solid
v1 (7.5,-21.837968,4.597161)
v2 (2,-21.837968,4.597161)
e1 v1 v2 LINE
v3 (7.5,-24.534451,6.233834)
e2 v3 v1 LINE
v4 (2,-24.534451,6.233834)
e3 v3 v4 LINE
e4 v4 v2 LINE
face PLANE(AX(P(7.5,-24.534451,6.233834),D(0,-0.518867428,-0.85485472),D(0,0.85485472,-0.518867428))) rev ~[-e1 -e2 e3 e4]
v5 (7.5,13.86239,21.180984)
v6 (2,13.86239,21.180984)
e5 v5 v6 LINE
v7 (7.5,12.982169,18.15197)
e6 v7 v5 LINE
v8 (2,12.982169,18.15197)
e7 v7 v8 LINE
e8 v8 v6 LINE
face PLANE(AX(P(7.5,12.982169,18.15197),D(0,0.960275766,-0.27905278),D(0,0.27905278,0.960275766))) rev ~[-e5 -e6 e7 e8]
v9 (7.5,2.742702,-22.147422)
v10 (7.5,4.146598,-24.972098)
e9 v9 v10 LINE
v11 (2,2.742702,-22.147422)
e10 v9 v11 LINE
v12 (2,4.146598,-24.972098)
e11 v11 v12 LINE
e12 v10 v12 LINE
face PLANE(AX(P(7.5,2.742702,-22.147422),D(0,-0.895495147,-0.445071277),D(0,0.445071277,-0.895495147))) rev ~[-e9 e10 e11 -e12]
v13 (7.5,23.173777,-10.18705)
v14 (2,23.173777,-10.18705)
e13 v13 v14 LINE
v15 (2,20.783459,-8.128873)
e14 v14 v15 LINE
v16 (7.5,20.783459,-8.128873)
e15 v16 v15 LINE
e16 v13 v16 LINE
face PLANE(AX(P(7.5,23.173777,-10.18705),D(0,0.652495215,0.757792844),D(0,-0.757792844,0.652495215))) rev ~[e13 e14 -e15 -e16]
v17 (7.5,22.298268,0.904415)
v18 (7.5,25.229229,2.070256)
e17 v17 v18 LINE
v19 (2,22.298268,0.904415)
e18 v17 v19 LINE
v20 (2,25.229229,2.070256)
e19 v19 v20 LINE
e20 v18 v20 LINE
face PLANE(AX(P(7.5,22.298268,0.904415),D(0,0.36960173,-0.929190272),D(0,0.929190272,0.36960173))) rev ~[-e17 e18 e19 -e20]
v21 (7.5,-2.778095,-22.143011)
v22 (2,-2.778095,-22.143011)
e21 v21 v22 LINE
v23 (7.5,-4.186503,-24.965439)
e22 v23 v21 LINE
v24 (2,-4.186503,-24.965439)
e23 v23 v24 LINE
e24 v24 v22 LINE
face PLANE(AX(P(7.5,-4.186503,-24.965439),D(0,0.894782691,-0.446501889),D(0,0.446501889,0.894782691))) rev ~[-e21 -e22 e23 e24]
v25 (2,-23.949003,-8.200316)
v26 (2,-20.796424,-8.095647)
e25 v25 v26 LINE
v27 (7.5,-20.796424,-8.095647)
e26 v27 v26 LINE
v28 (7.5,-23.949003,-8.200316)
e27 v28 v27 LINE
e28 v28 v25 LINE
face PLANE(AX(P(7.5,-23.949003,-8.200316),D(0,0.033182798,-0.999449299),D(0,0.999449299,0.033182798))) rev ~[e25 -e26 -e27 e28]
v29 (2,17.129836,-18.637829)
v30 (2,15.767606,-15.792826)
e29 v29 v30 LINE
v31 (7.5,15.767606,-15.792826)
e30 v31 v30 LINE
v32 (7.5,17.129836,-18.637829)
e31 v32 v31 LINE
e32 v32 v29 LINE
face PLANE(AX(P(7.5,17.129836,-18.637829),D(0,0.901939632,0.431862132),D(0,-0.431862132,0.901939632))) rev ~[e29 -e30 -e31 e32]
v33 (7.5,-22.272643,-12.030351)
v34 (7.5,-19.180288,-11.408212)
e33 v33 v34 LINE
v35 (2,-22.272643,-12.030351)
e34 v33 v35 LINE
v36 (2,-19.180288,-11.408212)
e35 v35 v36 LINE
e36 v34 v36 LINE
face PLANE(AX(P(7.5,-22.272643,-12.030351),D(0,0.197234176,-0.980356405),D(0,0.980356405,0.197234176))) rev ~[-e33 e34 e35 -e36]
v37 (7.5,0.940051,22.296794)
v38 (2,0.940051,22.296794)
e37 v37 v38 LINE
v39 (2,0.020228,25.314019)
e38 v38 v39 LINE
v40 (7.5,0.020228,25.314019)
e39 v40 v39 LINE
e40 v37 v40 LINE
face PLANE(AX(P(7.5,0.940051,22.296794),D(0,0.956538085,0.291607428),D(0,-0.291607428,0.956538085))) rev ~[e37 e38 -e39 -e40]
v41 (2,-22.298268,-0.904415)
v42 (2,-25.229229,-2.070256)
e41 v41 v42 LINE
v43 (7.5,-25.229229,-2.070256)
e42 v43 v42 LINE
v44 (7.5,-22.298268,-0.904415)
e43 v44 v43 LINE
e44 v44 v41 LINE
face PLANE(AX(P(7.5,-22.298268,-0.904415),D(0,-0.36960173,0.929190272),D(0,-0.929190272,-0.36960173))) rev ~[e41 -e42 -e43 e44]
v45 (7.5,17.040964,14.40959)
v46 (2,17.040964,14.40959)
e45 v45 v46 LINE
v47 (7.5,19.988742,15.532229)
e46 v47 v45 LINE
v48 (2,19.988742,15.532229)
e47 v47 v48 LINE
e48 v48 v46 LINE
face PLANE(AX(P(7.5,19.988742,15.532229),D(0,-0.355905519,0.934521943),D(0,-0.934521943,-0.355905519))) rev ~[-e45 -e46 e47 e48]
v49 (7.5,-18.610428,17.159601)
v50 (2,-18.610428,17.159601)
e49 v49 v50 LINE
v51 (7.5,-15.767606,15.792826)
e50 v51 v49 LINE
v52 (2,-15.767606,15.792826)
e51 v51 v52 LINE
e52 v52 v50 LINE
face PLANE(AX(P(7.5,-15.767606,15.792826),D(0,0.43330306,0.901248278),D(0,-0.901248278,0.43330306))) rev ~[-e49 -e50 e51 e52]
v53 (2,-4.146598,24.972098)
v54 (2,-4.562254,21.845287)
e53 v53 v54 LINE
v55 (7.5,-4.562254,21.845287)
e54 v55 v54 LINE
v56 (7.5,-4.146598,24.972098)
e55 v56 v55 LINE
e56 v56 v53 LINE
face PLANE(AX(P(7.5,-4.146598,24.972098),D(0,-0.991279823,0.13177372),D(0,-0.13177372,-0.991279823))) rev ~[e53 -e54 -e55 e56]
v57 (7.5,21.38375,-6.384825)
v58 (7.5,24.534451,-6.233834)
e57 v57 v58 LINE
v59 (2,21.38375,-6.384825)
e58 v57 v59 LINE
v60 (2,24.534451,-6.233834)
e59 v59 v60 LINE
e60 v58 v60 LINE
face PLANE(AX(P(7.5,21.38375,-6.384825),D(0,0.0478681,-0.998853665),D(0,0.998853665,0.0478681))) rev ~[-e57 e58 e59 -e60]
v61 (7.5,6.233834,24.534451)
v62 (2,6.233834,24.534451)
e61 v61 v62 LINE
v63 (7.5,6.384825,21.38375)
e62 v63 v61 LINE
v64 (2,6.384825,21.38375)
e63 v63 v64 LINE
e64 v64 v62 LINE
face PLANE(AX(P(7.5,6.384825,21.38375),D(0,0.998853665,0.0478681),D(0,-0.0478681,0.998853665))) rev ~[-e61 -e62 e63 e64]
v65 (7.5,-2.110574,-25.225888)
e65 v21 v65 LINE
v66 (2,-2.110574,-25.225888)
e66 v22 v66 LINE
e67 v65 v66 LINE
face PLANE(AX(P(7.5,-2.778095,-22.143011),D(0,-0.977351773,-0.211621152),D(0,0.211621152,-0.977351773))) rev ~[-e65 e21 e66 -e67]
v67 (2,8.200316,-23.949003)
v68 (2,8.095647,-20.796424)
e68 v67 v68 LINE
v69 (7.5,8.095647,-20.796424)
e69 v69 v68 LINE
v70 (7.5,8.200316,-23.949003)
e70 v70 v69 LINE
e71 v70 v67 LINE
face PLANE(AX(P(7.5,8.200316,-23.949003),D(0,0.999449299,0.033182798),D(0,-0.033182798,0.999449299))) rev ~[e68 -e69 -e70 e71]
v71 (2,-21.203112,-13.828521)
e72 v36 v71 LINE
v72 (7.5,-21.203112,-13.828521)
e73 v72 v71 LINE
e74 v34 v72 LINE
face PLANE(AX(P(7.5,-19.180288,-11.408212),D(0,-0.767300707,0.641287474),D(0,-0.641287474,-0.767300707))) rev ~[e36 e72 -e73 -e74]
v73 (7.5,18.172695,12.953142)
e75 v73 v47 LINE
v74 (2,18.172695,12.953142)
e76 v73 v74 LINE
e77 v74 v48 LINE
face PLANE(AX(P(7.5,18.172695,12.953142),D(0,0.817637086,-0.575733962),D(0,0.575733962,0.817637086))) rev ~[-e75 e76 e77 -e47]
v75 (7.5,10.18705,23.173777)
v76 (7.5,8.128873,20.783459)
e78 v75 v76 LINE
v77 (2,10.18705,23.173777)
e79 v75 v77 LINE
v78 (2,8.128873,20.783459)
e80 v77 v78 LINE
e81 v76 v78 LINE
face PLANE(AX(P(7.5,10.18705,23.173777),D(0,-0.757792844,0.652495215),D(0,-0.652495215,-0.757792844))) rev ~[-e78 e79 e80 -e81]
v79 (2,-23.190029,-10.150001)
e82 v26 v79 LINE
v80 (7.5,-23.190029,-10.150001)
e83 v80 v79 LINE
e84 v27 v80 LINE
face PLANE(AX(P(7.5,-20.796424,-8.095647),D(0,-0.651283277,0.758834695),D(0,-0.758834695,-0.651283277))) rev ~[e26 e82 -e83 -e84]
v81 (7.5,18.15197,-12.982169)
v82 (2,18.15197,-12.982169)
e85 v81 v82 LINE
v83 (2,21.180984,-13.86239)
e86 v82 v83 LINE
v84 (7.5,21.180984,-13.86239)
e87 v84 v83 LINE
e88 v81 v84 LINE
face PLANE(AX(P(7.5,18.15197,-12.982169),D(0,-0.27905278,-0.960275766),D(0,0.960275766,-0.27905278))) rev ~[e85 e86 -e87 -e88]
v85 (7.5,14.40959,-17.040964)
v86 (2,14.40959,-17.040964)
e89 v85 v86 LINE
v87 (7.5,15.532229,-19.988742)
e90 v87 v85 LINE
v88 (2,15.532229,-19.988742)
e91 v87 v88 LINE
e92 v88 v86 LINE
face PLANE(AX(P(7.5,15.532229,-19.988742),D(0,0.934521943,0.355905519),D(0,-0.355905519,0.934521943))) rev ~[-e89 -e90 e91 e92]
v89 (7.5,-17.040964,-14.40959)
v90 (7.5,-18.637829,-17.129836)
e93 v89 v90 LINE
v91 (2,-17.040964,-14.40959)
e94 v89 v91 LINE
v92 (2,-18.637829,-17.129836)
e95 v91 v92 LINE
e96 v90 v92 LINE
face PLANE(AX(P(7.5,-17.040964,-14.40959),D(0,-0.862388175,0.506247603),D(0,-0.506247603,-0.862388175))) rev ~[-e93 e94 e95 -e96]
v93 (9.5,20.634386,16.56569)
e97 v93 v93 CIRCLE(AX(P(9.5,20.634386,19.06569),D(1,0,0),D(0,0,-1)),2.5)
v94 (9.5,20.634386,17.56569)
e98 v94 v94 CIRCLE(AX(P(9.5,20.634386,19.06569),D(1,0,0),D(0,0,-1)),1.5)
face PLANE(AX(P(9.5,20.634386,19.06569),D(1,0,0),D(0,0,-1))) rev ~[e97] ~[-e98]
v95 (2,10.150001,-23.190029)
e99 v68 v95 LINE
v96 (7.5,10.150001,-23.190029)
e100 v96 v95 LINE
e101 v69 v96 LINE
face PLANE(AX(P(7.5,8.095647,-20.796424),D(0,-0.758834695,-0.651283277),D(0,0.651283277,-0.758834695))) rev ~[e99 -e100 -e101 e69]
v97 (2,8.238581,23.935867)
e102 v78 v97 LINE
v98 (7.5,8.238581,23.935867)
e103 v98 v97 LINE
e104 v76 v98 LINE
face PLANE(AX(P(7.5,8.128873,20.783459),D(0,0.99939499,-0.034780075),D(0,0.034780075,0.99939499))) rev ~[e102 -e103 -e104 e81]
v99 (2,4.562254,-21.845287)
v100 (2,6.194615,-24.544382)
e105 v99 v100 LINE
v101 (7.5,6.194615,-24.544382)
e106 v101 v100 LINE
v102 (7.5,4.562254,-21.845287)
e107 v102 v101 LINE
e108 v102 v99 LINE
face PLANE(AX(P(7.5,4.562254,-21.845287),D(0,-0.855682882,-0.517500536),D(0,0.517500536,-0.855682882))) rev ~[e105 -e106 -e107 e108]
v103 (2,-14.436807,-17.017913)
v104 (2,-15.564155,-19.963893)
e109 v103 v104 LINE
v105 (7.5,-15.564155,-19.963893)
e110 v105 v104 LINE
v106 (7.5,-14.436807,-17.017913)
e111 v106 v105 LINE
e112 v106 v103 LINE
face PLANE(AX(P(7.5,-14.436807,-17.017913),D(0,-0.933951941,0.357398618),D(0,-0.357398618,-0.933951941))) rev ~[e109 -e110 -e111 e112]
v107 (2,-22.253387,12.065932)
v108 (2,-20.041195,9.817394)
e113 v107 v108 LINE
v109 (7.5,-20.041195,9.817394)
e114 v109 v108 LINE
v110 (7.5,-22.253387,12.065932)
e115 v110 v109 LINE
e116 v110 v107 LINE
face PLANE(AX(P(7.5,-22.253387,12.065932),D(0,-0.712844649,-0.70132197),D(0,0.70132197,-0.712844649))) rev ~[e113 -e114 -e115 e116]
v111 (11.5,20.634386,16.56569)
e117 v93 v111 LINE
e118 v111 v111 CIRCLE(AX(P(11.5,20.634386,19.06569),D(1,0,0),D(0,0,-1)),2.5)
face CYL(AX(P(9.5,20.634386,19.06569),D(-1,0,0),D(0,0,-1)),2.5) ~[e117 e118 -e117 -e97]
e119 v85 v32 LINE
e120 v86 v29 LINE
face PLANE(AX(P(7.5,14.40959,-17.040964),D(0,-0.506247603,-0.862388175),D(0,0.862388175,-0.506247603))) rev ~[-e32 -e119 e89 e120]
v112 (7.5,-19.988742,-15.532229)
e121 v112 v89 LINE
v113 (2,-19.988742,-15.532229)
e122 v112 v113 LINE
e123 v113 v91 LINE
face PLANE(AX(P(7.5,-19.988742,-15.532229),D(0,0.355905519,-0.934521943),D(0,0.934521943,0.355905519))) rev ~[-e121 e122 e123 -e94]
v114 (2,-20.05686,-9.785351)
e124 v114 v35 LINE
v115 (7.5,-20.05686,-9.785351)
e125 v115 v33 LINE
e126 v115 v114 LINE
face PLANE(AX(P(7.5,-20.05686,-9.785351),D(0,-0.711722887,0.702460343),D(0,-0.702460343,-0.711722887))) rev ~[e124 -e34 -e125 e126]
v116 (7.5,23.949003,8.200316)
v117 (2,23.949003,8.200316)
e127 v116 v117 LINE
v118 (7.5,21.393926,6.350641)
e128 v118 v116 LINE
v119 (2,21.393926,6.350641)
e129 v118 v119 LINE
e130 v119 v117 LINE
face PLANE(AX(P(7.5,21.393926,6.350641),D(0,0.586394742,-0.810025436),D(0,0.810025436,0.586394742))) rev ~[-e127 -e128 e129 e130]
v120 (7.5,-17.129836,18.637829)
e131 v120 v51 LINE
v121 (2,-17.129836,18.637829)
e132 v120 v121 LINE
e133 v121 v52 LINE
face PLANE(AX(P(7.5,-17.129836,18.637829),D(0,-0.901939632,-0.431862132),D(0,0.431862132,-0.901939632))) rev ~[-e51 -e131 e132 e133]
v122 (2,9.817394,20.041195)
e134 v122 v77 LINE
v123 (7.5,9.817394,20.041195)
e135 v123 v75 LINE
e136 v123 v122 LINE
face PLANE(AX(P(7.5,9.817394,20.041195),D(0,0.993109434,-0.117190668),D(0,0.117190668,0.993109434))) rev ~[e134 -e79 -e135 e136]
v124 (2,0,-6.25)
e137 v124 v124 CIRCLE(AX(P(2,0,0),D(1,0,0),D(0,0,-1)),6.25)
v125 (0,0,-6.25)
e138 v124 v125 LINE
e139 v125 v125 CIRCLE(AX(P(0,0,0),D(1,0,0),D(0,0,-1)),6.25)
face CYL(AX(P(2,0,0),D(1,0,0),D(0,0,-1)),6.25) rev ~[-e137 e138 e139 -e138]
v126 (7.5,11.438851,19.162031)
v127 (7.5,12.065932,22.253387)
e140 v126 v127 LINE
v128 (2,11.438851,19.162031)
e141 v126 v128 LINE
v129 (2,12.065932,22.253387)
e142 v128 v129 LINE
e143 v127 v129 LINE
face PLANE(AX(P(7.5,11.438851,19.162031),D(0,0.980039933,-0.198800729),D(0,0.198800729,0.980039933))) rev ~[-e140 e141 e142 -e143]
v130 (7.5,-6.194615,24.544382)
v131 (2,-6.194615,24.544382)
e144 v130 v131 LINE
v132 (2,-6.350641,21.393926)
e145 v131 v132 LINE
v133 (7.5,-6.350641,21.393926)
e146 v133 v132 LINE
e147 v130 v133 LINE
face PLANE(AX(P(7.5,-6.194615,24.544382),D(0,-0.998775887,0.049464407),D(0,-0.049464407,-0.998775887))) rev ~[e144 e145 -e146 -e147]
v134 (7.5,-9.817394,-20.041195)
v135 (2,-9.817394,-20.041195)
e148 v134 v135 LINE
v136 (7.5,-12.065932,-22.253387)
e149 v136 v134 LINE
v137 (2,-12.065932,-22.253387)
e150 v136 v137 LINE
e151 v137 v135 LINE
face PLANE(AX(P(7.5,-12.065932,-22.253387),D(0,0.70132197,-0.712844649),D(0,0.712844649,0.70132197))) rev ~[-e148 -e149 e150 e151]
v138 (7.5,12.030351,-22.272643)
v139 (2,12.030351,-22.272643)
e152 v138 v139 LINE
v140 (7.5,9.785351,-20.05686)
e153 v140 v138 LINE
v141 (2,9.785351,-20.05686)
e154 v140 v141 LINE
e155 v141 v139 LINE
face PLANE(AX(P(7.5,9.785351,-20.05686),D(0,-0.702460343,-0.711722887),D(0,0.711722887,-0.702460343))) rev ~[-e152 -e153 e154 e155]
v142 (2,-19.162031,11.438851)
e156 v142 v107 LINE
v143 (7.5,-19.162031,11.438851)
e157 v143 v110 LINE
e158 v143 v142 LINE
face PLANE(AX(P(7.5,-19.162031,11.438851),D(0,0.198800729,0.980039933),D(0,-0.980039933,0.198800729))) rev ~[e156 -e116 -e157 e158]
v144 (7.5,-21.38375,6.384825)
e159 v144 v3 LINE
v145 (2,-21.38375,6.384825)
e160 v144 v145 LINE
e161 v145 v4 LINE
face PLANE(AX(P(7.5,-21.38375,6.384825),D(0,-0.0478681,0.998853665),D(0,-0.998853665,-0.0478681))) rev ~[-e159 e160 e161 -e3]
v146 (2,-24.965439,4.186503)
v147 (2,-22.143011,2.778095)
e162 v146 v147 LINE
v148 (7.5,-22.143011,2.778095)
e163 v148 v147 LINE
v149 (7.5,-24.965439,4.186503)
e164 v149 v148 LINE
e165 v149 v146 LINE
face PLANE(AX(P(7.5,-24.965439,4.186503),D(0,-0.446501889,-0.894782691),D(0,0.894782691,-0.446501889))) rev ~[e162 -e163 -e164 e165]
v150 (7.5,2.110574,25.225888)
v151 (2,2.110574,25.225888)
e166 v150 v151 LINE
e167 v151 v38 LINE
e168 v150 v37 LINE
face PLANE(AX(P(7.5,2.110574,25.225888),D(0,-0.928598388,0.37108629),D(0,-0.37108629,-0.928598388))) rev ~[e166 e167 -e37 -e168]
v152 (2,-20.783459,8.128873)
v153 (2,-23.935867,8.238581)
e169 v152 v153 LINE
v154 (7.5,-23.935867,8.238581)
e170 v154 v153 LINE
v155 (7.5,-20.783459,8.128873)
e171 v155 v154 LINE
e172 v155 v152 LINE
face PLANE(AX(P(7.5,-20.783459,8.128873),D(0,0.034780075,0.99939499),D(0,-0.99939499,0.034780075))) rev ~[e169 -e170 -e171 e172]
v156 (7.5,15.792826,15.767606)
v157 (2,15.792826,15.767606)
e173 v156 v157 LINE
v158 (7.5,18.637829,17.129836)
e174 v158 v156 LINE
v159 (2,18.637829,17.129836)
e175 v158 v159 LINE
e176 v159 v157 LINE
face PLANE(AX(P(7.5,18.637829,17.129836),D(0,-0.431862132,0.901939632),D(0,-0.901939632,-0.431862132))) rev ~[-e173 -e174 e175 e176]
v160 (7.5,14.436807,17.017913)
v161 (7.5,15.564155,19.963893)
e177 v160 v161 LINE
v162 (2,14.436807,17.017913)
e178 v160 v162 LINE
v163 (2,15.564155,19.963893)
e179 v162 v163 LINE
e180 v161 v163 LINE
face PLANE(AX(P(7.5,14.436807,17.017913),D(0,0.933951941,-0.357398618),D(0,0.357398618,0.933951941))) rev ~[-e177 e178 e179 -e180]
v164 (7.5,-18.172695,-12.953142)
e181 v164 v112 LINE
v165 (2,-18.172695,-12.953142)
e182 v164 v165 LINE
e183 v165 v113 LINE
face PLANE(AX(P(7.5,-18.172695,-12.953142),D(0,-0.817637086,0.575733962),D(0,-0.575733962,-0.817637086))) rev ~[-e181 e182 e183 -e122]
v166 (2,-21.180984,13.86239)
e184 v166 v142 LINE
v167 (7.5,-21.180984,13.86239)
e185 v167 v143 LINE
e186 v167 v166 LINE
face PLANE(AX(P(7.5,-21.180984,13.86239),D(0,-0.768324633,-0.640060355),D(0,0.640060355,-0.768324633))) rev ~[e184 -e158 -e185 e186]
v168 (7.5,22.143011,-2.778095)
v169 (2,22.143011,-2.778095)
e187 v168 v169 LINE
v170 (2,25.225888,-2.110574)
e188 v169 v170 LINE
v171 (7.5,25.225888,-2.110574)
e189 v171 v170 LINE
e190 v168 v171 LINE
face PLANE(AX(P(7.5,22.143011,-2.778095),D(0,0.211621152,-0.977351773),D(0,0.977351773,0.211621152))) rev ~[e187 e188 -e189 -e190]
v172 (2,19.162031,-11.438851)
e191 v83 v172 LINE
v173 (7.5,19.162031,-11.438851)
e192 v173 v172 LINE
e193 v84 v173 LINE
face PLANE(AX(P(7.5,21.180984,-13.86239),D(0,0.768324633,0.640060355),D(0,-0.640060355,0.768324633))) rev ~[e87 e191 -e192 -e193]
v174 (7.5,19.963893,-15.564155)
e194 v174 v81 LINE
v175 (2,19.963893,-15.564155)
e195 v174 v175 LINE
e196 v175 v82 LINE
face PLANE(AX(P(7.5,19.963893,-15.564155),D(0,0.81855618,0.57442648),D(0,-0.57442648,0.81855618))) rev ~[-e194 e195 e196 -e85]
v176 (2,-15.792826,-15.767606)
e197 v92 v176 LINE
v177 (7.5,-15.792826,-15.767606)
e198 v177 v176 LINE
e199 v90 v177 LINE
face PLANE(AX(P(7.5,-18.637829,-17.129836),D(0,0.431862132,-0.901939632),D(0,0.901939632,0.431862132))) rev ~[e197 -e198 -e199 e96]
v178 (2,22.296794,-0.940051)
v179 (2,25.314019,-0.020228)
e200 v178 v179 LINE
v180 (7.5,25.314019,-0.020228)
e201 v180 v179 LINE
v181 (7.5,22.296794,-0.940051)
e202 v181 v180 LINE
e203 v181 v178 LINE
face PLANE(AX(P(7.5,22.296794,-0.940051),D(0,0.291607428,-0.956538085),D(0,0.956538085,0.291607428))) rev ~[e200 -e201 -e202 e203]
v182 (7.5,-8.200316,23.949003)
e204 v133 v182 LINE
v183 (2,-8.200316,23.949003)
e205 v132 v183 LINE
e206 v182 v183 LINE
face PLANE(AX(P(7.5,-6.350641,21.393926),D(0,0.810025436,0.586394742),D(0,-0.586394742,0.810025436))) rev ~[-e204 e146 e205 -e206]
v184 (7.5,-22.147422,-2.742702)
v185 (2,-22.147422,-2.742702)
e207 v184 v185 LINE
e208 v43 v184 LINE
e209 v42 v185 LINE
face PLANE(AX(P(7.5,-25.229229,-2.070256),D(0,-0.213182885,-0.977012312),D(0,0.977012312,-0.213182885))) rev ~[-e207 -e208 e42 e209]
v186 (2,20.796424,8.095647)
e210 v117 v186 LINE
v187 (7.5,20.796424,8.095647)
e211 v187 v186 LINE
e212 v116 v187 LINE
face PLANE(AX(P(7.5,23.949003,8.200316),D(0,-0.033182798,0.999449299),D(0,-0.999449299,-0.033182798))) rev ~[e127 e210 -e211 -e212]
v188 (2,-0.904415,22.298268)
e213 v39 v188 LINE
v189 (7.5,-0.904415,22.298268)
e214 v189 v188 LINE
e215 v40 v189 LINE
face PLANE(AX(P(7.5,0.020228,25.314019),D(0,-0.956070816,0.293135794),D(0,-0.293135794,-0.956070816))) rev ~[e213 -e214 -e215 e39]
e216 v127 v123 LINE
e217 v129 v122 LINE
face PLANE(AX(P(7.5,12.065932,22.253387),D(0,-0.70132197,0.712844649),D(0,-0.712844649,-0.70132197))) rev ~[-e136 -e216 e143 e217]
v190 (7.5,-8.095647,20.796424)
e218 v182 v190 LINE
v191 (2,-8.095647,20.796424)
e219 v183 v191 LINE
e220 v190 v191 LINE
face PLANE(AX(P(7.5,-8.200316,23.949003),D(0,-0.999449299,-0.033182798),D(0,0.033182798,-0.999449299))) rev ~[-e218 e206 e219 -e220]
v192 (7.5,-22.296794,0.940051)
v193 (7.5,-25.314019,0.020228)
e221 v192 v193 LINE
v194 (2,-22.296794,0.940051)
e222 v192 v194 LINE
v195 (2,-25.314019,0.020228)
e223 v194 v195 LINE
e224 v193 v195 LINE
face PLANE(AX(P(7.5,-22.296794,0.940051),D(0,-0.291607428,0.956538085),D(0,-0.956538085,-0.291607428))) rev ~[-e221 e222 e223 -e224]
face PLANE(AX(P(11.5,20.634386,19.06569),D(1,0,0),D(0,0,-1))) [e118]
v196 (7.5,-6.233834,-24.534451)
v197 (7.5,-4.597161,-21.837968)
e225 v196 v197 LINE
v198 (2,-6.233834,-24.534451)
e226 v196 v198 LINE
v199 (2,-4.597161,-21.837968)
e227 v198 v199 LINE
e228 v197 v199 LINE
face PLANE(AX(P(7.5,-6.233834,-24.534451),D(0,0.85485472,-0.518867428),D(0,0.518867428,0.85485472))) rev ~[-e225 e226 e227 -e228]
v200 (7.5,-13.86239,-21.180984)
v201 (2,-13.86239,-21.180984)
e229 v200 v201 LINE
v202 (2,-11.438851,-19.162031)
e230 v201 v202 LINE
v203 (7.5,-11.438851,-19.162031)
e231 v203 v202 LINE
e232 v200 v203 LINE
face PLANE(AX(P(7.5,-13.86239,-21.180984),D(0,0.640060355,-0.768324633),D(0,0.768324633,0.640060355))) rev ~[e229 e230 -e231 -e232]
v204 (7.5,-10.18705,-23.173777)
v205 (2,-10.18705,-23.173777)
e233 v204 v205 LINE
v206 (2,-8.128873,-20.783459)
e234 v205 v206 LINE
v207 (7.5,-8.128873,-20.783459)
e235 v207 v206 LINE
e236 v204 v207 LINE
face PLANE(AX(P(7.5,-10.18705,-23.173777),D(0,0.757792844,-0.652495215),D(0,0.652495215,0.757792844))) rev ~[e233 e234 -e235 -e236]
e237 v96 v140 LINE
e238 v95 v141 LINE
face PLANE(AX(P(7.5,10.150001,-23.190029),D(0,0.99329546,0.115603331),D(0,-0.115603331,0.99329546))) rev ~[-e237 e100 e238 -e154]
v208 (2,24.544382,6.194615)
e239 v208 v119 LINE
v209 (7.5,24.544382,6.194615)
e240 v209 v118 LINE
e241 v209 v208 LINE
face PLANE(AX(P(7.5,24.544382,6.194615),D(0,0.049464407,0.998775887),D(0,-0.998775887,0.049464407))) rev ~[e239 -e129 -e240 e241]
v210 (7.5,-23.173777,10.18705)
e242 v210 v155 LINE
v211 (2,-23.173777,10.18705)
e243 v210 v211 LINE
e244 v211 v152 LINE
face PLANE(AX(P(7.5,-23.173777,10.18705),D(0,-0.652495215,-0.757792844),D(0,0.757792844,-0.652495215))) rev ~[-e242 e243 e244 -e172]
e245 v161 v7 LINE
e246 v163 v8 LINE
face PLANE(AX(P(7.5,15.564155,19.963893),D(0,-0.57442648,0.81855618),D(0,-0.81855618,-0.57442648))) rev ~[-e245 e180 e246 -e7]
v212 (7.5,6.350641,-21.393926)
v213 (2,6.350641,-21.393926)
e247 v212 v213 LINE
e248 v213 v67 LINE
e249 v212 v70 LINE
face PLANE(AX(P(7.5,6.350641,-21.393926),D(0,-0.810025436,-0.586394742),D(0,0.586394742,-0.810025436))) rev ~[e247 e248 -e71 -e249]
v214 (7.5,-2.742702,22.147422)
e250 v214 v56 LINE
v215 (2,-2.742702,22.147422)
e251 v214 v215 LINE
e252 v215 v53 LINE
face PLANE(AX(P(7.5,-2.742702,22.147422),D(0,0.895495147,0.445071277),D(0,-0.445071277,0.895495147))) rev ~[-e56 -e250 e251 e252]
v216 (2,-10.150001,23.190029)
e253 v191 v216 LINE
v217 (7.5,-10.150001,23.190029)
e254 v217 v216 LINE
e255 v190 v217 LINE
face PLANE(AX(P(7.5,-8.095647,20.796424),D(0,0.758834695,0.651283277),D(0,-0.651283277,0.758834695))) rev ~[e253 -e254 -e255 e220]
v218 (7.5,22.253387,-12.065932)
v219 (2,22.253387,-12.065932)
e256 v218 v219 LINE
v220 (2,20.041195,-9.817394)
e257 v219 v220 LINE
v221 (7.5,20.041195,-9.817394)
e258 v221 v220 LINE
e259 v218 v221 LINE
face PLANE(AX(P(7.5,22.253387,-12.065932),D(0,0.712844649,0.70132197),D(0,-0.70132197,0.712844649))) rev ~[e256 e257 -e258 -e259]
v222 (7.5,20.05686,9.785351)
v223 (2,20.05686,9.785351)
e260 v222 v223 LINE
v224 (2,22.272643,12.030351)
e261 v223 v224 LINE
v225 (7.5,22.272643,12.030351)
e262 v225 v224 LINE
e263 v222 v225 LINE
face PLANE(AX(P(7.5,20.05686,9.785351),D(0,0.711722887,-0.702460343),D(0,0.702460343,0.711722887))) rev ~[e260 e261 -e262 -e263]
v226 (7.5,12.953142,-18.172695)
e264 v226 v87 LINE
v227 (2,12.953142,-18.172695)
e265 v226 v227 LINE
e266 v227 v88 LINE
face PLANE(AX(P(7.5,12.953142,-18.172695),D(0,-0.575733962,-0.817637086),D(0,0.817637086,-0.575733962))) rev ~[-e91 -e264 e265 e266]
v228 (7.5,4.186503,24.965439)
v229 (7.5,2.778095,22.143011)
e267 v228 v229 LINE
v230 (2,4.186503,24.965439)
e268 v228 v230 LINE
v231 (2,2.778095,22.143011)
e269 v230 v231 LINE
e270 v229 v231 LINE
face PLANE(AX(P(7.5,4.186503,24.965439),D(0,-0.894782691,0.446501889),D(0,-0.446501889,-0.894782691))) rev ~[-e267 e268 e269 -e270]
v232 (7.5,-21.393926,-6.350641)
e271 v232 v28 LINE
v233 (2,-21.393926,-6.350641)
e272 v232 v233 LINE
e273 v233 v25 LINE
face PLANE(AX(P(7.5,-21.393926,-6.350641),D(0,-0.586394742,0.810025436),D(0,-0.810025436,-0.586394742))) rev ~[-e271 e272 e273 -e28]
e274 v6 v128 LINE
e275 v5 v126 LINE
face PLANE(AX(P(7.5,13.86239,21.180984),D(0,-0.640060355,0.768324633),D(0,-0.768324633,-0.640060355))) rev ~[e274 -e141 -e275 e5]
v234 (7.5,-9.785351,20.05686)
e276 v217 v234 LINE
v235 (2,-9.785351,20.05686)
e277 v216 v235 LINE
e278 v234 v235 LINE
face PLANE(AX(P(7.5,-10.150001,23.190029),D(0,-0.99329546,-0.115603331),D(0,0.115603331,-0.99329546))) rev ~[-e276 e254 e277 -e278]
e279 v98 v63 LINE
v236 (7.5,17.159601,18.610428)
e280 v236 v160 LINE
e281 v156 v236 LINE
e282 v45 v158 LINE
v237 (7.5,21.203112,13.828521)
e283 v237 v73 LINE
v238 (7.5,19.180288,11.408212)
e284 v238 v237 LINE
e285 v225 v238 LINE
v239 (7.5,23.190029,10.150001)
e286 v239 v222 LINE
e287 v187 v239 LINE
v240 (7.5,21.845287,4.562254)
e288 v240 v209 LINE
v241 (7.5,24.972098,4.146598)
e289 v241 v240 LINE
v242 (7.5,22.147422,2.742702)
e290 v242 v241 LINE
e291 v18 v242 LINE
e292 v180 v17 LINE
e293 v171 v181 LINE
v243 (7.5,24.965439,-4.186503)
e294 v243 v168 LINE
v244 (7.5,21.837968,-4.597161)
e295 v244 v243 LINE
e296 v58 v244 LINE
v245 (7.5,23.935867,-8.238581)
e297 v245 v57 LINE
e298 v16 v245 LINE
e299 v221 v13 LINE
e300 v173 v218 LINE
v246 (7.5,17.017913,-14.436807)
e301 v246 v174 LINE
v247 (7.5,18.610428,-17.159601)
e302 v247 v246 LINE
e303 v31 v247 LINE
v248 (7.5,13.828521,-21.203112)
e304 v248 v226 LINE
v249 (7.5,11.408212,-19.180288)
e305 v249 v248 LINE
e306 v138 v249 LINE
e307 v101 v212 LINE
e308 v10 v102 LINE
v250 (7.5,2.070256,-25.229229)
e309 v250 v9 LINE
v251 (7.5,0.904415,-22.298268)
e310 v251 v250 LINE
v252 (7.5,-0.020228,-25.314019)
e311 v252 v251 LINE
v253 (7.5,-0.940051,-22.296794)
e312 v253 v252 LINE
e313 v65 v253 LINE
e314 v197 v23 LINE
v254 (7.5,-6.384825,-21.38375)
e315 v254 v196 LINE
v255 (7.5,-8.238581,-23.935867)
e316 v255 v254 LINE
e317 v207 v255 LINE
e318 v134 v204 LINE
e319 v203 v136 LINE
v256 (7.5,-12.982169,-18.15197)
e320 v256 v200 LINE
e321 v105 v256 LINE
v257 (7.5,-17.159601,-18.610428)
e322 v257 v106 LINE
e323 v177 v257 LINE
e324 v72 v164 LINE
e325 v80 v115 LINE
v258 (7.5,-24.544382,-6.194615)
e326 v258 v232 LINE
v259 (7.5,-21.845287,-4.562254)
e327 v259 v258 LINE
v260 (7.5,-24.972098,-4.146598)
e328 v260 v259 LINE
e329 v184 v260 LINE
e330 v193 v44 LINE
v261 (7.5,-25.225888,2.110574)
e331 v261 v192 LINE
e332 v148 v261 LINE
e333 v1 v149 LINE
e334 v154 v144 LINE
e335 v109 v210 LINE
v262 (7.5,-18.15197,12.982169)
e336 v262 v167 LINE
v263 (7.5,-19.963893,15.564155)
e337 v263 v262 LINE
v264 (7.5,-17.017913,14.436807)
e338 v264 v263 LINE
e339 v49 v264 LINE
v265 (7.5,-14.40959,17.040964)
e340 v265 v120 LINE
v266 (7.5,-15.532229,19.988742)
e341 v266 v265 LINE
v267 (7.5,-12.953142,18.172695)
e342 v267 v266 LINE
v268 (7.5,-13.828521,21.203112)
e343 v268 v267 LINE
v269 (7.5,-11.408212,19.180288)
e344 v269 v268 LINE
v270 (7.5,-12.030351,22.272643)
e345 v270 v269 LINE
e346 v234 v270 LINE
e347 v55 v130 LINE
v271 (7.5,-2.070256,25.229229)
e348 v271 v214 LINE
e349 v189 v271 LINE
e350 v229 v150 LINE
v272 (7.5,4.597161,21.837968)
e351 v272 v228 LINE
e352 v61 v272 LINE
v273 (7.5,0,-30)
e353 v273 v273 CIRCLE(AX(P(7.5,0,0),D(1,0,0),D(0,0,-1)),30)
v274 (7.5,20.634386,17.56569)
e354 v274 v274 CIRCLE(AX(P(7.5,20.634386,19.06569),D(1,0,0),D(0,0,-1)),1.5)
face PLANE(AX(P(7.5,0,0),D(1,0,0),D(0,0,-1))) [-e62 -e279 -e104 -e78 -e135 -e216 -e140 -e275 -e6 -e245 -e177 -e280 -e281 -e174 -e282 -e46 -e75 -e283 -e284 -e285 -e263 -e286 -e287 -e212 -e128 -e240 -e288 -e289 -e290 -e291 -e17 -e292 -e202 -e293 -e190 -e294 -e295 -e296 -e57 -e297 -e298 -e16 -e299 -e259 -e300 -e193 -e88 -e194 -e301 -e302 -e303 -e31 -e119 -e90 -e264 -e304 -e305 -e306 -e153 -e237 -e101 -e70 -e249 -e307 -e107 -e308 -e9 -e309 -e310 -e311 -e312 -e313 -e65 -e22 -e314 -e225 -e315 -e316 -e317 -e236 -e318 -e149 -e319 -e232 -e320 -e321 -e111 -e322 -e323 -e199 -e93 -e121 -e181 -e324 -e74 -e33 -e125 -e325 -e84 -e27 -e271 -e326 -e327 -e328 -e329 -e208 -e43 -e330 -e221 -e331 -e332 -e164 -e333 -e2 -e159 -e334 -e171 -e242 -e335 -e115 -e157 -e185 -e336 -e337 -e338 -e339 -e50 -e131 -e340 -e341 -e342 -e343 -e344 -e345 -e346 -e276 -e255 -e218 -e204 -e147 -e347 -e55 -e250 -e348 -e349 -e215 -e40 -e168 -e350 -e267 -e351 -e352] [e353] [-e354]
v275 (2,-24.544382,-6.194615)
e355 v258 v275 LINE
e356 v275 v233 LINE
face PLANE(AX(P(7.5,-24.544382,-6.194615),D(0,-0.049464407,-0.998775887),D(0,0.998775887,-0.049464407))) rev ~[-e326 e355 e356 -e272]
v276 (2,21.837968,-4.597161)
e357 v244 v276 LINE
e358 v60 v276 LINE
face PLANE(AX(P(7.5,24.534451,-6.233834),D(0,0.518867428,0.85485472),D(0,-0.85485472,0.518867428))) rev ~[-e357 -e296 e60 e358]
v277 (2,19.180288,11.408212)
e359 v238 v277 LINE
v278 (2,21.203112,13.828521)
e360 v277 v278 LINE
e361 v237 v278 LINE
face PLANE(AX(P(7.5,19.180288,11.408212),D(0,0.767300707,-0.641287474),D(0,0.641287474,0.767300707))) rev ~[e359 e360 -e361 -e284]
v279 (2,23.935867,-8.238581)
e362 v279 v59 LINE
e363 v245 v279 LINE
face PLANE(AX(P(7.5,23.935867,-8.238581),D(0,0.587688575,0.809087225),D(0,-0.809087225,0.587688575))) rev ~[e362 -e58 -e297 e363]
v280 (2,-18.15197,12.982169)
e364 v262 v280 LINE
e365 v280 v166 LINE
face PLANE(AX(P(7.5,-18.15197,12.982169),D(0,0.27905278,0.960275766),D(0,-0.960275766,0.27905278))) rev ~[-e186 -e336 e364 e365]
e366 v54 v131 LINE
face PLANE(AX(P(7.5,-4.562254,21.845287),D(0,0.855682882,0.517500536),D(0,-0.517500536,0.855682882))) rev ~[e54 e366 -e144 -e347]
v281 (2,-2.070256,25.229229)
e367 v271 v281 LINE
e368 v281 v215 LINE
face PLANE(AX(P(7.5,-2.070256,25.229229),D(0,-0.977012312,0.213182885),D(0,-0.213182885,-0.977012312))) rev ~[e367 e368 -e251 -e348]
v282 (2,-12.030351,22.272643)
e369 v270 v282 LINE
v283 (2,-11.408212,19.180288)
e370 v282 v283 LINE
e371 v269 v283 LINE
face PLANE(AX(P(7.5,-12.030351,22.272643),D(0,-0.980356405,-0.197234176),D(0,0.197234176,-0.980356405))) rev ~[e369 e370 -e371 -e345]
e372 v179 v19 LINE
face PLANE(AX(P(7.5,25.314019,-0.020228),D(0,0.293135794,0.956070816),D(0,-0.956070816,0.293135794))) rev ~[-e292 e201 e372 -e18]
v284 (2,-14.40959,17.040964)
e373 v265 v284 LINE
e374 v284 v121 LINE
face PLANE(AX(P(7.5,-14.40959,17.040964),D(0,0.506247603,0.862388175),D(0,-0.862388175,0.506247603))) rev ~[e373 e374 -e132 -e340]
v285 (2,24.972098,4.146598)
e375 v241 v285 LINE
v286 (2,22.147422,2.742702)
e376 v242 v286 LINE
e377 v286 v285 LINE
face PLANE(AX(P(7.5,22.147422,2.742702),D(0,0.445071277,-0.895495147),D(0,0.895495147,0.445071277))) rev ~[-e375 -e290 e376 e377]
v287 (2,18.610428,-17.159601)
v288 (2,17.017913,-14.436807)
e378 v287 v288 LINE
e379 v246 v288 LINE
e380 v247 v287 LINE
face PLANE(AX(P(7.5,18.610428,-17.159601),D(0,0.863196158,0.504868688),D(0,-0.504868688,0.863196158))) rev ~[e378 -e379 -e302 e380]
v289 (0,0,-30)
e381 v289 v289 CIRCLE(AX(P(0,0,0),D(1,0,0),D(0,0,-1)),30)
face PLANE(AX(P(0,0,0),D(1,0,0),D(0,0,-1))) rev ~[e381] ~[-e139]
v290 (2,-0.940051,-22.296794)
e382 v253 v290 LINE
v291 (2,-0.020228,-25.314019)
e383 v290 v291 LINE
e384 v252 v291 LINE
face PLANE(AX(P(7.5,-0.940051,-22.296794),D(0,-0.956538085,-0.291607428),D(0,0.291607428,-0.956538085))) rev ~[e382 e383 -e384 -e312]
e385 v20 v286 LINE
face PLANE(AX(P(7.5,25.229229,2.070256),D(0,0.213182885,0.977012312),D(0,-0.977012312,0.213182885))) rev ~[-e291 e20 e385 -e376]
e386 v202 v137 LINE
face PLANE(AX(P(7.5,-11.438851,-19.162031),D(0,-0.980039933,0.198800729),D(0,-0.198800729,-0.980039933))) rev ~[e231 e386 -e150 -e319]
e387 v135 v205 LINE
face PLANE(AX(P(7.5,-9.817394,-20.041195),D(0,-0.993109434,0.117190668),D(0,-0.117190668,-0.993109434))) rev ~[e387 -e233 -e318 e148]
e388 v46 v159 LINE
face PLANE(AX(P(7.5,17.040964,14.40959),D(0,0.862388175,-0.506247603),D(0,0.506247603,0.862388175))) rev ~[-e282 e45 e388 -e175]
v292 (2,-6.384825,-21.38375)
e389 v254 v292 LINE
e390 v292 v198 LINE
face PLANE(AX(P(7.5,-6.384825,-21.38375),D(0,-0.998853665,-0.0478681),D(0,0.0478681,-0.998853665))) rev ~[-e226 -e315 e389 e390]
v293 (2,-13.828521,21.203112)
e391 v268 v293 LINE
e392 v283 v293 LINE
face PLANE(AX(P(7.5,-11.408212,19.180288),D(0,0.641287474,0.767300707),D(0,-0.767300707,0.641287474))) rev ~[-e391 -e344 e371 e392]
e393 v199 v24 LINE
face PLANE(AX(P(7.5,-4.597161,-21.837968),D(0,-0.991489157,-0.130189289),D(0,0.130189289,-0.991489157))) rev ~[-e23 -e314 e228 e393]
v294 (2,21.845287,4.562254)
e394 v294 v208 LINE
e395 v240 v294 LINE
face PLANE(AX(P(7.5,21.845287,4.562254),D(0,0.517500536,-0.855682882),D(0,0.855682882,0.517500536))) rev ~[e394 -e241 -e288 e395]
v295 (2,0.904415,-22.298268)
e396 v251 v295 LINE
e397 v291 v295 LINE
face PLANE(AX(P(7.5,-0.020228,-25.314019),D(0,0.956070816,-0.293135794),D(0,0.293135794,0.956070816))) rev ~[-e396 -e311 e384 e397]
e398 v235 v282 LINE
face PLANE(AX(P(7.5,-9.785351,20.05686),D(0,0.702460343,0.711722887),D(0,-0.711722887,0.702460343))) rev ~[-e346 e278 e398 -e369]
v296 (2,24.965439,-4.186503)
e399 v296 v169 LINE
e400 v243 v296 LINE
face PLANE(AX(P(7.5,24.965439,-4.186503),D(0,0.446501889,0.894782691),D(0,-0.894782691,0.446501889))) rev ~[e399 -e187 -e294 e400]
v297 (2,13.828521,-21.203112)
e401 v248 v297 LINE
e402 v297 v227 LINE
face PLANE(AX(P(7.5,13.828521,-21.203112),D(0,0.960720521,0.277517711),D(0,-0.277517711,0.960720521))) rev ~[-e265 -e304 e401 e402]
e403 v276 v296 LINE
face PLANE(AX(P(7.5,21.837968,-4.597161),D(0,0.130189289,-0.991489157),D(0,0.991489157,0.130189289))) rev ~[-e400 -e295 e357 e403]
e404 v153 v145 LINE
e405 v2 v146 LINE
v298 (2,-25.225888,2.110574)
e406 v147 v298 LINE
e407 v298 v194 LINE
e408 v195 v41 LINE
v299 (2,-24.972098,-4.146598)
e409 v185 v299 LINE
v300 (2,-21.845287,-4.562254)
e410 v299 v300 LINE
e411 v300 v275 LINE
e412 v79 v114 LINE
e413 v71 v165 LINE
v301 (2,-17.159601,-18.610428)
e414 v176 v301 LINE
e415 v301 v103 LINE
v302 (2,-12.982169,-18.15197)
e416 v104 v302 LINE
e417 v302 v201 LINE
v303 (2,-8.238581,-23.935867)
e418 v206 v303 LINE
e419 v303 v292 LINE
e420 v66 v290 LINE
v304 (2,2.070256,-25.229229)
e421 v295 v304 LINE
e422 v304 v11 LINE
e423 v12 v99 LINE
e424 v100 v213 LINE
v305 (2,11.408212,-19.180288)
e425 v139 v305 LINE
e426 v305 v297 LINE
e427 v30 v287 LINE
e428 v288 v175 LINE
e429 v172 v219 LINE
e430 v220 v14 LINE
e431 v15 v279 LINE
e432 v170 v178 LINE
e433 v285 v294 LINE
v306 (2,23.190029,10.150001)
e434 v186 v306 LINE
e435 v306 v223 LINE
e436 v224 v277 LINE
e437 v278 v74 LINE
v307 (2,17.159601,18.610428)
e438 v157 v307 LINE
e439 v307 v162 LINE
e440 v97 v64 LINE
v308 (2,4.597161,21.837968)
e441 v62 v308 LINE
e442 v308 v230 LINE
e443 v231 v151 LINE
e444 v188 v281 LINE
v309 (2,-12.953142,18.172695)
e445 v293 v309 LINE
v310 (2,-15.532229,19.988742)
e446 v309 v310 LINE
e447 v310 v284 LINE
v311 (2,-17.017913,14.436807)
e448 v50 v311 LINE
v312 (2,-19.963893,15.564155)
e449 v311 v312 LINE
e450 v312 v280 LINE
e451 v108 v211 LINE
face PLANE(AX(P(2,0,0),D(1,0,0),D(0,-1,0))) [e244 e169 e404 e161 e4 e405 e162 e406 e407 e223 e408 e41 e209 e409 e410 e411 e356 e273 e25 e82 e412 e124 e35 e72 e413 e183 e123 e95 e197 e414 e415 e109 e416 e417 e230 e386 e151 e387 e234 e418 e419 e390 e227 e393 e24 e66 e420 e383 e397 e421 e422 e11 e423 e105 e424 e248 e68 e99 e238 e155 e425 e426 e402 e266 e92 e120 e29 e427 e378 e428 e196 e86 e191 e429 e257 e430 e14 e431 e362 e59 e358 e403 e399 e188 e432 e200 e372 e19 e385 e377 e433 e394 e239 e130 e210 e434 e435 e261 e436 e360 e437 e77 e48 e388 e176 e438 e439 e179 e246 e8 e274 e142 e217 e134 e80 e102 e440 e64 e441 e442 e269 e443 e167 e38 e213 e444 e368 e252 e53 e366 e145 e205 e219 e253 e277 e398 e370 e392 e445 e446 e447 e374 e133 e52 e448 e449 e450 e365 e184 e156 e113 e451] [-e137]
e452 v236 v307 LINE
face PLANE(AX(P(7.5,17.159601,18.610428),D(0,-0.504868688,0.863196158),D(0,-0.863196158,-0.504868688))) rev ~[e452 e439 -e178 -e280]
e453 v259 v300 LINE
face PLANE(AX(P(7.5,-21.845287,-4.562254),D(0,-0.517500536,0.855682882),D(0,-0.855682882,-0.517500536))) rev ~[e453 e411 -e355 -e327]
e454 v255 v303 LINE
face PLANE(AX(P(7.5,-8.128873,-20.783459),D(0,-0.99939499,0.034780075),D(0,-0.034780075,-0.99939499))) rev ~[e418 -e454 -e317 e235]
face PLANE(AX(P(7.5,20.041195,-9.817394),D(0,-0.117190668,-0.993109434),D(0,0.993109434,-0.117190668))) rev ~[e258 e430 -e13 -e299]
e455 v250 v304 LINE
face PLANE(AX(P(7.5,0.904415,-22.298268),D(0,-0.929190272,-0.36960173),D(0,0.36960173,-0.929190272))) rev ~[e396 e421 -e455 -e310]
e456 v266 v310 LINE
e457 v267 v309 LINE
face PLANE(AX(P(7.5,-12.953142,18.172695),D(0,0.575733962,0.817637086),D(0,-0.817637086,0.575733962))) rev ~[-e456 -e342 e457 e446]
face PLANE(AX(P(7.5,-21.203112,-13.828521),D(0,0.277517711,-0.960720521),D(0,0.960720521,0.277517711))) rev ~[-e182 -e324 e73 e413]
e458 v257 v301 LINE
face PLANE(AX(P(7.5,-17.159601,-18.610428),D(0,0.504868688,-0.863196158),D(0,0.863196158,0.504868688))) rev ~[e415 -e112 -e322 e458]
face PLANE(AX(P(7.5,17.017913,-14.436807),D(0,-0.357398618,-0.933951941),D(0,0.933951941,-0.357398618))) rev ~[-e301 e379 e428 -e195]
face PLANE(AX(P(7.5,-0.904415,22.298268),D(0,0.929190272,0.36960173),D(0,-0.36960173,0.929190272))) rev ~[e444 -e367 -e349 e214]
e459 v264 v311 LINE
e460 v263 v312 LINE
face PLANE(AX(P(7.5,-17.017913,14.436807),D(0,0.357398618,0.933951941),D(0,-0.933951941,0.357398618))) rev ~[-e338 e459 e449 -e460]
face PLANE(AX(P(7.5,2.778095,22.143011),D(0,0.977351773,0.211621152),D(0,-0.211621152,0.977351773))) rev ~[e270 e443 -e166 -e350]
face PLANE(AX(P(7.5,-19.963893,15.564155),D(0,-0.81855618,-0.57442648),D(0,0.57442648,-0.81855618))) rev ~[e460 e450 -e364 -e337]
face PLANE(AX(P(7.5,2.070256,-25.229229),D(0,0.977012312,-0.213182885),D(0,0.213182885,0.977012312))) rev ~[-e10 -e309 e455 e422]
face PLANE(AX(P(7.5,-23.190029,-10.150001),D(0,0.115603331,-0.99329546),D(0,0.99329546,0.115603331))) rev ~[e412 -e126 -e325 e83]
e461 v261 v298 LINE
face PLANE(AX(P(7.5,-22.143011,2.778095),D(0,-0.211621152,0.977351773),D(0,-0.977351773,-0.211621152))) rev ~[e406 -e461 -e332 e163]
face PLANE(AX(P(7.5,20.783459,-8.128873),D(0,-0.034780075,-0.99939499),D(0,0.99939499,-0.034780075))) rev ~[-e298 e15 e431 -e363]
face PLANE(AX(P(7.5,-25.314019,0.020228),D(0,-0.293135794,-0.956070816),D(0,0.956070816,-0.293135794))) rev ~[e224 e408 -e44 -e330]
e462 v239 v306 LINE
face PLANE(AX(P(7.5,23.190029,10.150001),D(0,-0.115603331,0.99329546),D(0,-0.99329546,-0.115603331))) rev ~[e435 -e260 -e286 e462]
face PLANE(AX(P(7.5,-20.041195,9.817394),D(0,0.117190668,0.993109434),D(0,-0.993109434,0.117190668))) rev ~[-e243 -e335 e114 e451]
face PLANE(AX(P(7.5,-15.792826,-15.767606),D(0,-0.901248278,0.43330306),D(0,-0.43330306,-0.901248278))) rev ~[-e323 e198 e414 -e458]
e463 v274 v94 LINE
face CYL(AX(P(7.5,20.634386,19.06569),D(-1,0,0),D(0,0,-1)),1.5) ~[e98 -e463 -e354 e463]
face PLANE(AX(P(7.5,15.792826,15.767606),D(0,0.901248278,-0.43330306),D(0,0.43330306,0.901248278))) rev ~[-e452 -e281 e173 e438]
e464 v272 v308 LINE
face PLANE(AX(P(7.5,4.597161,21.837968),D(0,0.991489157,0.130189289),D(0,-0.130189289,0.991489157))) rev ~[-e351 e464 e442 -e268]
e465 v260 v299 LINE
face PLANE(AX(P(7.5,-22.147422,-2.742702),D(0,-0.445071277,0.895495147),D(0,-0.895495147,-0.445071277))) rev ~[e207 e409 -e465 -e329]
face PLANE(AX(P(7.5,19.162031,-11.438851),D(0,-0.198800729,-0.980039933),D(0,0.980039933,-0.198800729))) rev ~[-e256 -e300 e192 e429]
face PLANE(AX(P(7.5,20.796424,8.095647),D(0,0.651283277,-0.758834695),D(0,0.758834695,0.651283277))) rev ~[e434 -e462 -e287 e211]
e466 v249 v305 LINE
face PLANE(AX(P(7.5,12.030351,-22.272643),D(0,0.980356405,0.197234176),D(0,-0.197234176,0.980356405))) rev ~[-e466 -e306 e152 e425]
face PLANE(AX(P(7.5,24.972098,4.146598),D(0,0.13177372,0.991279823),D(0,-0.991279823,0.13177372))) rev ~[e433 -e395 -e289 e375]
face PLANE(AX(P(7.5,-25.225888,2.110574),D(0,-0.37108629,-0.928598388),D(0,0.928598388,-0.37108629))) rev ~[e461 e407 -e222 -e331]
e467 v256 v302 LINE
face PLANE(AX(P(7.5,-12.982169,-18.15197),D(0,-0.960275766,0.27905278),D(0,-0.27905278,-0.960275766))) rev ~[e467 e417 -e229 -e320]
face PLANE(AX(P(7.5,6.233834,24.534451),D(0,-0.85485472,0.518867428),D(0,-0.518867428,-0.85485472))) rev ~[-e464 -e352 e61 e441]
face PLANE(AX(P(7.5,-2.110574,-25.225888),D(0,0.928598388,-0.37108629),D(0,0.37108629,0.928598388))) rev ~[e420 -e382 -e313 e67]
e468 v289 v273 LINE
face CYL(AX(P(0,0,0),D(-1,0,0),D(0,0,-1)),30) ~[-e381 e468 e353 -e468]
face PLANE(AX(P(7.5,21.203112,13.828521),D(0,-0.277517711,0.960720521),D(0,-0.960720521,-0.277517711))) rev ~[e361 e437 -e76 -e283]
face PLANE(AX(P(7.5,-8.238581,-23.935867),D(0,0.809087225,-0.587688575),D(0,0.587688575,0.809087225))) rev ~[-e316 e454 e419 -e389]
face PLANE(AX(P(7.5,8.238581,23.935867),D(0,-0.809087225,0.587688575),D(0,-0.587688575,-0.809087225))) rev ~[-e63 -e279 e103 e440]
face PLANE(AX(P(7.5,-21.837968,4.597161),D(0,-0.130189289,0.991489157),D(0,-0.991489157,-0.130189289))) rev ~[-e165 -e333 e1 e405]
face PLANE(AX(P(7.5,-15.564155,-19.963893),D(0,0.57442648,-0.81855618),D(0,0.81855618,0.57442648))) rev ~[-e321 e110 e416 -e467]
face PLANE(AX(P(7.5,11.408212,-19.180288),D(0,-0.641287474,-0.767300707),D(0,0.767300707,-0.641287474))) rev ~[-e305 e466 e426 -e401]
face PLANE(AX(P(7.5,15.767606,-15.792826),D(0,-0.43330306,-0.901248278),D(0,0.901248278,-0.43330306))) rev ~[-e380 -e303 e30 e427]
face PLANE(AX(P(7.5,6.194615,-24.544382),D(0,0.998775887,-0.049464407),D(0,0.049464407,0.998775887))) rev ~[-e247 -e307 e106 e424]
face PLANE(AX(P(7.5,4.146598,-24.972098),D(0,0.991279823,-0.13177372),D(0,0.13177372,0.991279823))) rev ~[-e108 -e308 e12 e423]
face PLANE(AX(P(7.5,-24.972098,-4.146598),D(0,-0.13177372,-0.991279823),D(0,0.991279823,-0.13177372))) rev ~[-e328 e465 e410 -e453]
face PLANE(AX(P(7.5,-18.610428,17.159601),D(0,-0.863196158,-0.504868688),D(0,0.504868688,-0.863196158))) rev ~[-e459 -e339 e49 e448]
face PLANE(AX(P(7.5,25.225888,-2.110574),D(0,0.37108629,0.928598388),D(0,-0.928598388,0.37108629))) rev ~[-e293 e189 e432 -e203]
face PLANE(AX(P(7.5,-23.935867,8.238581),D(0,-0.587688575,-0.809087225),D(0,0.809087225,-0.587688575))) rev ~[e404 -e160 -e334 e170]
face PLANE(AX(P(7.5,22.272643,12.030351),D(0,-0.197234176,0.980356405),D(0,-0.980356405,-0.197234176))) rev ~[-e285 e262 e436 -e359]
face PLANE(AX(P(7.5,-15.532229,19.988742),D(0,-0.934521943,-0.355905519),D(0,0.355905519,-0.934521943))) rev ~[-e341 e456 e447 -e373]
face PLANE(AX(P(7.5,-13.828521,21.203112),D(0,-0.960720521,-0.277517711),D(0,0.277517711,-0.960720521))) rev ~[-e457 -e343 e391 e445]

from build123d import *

# Parameters (mm, degrees)
SKETCH1_R           = 30
BOSS_EXTRUDE1_DEPTH = 7.5
CUT_EXTRUDE2_DEPTH  = 5.5
SKETCH6_R           = 6.25
CUT_EXTRUDE3_DEPTH  = 3
SKETCH9_R           = 1.5
BOSS_EXTRUDE5_DEPTH = 2
SKETCH10_R          = 2.5
BOSS_EXTRUDE6_DEPTH = 2


with BuildPart() as part:
    # Sketch1 → Boss-Extrude1 (new body)
    with BuildSketch(Plane(origin=(0, 0, 0), x_dir=(0, 0, -1), z_dir=(1, 0, 0))):
        Circle(SKETCH1_R)
    extrude(amount=BOSS_EXTRUDE1_DEPTH)

    # Sketch4 → Cut-Extrude2 (cut)
    with BuildSketch(Plane(origin=(7.5, 0, 0), x_dir=(0, -1, 0), z_dir=(1, 0, 0))):
        Polygon((8.200315972, -23.949003355), (8.095646912, -20.796423541), (10.150000757, -23.190028641), (9.785351218, -20.056859988), (12.030350745, -22.272642516), (11.408211652, -19.180287743), (13.828521239, -21.20311166), (12.953142433, -18.172694685), (15.532228911, -19.988742051), (14.409590118, -17.040963696), (17.12983571, -18.637829065), (15.76760569, -15.792825644), (18.610428362, -17.159600809), (17.017912527, -14.43680658), (19.963892917, -15.564155079), (18.151969766, -12.982169489), (21.18098384, -13.862390389), (19.162030646, -11.438851016), (22.253387167, -12.065931515), (20.041195426, -9.817393592), (23.173777294, -10.187050095), (20.78345852, -8.128873414), (23.935867025, -8.238580793), (21.383749518, -6.384824789), (24.534450513, -6.233833631), (21.837967824, -4.597161336), (24.965438827, -4.186503063), (22.143010666, -2.77809461), (25.225887879, -2.110574435), (22.296794293, -0.940050681), (25.314018538, -0.020228443), (22.298268206, 0.904414747), (25.229228782, 2.070255729), (22.147422337, 2.742702106), (24.972097812, 4.146597956), (21.845287117, 4.562254028), (24.544382092, 6.194614714), (21.393926434, 6.350641129), (23.949003355, 8.200315972), (20.796423541, 8.095646912), (23.190028641, 10.150000757), (20.056859988, 9.785351218), (22.272642516, 12.030350745), (19.180287743, 11.408211652), (21.20311166, 13.828521239), (18.172694685, 12.953142433), (19.988742051, 15.532228911), (17.040963696, 14.409590118), (18.637829065, 17.12983571), (15.792825644, 15.76760569), (17.159600809, 18.610428362), (14.43680658, 17.017912527), (15.564155079, 19.963892917), (12.982169489, 18.151969766), (13.862390389, 21.18098384), (11.438851016, 19.162030646), (12.065931515, 22.253387167), (9.817393592, 20.041195426), (10.187050095, 23.173777294), (8.128873414, 20.78345852), (8.238580793, 23.935867025), (6.384824789, 21.383749518), (6.233833631, 24.534450513), (4.597161336, 21.837967824), (4.186503063, 24.965438827), (2.77809461, 22.143010666), (2.110574435, 25.225887879), (0.940050681, 22.296794293), (0.020228443, 25.314018538), (-0.904414747, 22.298268206), (-2.070255729, 25.229228782), (-2.742702106, 22.147422337), (-4.146597956, 24.972097812), (-4.562254028, 21.845287117), (-6.194614714, 24.544382092), (-6.350641129, 21.393926434), (-8.200315972, 23.949003355), (-8.095646912, 20.796423541), (-10.150000757, 23.190028641), (-9.785351218, 20.056859988), (-12.030350745, 22.272642516), (-11.408211652, 19.180287743), (-13.828521239, 21.20311166), (-12.953142433, 18.172694685), (-15.532228911, 19.988742051), (-14.409590118, 17.040963696), (-17.12983571, 18.637829065), (-15.76760569, 15.792825644), (-18.610428362, 17.159600809), (-17.017912527, 14.43680658), (-19.963892917, 15.564155079), (-18.151969766, 12.982169489), (-21.18098384, 13.862390389), (-19.162030646, 11.438851016), (-22.253387167, 12.065931515), (-20.041195426, 9.817393592), (-23.173777294, 10.187050095), (-20.78345852, 8.128873414), (-23.935867025, 8.238580793), (-21.383749518, 6.384824789), (-24.534450513, 6.233833631), (-21.837967824, 4.597161336), (-24.965438827, 4.186503063), (-22.143010666, 2.77809461), (-25.225887879, 2.110574435), (-22.296794293, 0.940050681), (-25.314018538, 0.020228443), (-22.298268206, -0.904414747), (-25.229228782, -2.070255729), (-22.147422337, -2.742702106), (-24.972097812, -4.146597956), (-21.845287117, -4.562254028), (-24.544382092, -6.194614714), (-21.393926434, -6.350641129), (-23.949003355, -8.200315972), (-20.796423541, -8.095646912), (-23.190028641, -10.150000757), (-20.056859988, -9.785351218), (-22.272642516, -12.030350745), (-19.180287743, -11.408211652), (-21.20311166, -13.828521239), (-18.172694685, -12.953142433), (-19.988742051, -15.532228911), (-17.040963696, -14.409590118), (-18.637829065, -17.12983571), (-15.792825644, -15.76760569), (-17.159600809, -18.610428362), (-14.43680658, -17.017912527), (-15.564155079, -19.963892917), (-12.982169489, -18.151969766), (-13.862390389, -21.18098384), (-11.438851016, -19.162030646), (-12.065931515, -22.253387167), (-9.817393592, -20.041195426), (-10.187050095, -23.173777294), (-8.128873414, -20.78345852), (-8.238580793, -23.935867025), (-6.384824789, -21.383749518), (-6.233833631, -24.534450513), (-4.597161336, -21.837967824), (-4.186503063, -24.965438827), (-2.77809461, -22.143010666), (-2.110574435, -25.225887879), (-0.940050681, -22.296794293), (-0.020228443, -25.314018538), (0.904414747, -22.298268206), (2.070255729, -25.229228782), (2.742702106, -22.147422337), (4.146597956, -24.972097812), (4.562254028, -21.845287117), (6.194614714, -24.544382092), (6.350641129, -21.393926434), align=None)
    extrude(amount=-CUT_EXTRUDE2_DEPTH, mode=Mode.SUBTRACT)

    # Sketch6 → Cut-Extrude3 (cut, through all)
    with BuildSketch(Plane(origin=(2, 0, 0), x_dir=(0, 0, -1), z_dir=(1, 0, 0))):
        Circle(SKETCH6_R)
    extrude(amount=-CUT_EXTRUDE3_DEPTH, mode=Mode.SUBTRACT)

    # Sketch9 → Boss-Extrude5 (add)
    with BuildSketch(Plane(origin=(7.5, 0, 0), x_dir=(0, 0, -1), z_dir=(1, 0, 0))):
        with Locations((-19.065690414, 20.634386461)):
            Circle(SKETCH9_R)
    extrude(amount=BOSS_EXTRUDE5_DEPTH)

    # Sketch10 → Boss-Extrude6 (add)
    with BuildSketch(Plane(origin=(9.5, 0, 0), x_dir=(0, 0, -1), z_dir=(1, 0, 0))):
        with Locations((-19.065690414, 20.634386461)):
            Circle(SKETCH10_R)
    extrude(amount=BOSS_EXTRUDE6_DEPTH)


solid = part.part
